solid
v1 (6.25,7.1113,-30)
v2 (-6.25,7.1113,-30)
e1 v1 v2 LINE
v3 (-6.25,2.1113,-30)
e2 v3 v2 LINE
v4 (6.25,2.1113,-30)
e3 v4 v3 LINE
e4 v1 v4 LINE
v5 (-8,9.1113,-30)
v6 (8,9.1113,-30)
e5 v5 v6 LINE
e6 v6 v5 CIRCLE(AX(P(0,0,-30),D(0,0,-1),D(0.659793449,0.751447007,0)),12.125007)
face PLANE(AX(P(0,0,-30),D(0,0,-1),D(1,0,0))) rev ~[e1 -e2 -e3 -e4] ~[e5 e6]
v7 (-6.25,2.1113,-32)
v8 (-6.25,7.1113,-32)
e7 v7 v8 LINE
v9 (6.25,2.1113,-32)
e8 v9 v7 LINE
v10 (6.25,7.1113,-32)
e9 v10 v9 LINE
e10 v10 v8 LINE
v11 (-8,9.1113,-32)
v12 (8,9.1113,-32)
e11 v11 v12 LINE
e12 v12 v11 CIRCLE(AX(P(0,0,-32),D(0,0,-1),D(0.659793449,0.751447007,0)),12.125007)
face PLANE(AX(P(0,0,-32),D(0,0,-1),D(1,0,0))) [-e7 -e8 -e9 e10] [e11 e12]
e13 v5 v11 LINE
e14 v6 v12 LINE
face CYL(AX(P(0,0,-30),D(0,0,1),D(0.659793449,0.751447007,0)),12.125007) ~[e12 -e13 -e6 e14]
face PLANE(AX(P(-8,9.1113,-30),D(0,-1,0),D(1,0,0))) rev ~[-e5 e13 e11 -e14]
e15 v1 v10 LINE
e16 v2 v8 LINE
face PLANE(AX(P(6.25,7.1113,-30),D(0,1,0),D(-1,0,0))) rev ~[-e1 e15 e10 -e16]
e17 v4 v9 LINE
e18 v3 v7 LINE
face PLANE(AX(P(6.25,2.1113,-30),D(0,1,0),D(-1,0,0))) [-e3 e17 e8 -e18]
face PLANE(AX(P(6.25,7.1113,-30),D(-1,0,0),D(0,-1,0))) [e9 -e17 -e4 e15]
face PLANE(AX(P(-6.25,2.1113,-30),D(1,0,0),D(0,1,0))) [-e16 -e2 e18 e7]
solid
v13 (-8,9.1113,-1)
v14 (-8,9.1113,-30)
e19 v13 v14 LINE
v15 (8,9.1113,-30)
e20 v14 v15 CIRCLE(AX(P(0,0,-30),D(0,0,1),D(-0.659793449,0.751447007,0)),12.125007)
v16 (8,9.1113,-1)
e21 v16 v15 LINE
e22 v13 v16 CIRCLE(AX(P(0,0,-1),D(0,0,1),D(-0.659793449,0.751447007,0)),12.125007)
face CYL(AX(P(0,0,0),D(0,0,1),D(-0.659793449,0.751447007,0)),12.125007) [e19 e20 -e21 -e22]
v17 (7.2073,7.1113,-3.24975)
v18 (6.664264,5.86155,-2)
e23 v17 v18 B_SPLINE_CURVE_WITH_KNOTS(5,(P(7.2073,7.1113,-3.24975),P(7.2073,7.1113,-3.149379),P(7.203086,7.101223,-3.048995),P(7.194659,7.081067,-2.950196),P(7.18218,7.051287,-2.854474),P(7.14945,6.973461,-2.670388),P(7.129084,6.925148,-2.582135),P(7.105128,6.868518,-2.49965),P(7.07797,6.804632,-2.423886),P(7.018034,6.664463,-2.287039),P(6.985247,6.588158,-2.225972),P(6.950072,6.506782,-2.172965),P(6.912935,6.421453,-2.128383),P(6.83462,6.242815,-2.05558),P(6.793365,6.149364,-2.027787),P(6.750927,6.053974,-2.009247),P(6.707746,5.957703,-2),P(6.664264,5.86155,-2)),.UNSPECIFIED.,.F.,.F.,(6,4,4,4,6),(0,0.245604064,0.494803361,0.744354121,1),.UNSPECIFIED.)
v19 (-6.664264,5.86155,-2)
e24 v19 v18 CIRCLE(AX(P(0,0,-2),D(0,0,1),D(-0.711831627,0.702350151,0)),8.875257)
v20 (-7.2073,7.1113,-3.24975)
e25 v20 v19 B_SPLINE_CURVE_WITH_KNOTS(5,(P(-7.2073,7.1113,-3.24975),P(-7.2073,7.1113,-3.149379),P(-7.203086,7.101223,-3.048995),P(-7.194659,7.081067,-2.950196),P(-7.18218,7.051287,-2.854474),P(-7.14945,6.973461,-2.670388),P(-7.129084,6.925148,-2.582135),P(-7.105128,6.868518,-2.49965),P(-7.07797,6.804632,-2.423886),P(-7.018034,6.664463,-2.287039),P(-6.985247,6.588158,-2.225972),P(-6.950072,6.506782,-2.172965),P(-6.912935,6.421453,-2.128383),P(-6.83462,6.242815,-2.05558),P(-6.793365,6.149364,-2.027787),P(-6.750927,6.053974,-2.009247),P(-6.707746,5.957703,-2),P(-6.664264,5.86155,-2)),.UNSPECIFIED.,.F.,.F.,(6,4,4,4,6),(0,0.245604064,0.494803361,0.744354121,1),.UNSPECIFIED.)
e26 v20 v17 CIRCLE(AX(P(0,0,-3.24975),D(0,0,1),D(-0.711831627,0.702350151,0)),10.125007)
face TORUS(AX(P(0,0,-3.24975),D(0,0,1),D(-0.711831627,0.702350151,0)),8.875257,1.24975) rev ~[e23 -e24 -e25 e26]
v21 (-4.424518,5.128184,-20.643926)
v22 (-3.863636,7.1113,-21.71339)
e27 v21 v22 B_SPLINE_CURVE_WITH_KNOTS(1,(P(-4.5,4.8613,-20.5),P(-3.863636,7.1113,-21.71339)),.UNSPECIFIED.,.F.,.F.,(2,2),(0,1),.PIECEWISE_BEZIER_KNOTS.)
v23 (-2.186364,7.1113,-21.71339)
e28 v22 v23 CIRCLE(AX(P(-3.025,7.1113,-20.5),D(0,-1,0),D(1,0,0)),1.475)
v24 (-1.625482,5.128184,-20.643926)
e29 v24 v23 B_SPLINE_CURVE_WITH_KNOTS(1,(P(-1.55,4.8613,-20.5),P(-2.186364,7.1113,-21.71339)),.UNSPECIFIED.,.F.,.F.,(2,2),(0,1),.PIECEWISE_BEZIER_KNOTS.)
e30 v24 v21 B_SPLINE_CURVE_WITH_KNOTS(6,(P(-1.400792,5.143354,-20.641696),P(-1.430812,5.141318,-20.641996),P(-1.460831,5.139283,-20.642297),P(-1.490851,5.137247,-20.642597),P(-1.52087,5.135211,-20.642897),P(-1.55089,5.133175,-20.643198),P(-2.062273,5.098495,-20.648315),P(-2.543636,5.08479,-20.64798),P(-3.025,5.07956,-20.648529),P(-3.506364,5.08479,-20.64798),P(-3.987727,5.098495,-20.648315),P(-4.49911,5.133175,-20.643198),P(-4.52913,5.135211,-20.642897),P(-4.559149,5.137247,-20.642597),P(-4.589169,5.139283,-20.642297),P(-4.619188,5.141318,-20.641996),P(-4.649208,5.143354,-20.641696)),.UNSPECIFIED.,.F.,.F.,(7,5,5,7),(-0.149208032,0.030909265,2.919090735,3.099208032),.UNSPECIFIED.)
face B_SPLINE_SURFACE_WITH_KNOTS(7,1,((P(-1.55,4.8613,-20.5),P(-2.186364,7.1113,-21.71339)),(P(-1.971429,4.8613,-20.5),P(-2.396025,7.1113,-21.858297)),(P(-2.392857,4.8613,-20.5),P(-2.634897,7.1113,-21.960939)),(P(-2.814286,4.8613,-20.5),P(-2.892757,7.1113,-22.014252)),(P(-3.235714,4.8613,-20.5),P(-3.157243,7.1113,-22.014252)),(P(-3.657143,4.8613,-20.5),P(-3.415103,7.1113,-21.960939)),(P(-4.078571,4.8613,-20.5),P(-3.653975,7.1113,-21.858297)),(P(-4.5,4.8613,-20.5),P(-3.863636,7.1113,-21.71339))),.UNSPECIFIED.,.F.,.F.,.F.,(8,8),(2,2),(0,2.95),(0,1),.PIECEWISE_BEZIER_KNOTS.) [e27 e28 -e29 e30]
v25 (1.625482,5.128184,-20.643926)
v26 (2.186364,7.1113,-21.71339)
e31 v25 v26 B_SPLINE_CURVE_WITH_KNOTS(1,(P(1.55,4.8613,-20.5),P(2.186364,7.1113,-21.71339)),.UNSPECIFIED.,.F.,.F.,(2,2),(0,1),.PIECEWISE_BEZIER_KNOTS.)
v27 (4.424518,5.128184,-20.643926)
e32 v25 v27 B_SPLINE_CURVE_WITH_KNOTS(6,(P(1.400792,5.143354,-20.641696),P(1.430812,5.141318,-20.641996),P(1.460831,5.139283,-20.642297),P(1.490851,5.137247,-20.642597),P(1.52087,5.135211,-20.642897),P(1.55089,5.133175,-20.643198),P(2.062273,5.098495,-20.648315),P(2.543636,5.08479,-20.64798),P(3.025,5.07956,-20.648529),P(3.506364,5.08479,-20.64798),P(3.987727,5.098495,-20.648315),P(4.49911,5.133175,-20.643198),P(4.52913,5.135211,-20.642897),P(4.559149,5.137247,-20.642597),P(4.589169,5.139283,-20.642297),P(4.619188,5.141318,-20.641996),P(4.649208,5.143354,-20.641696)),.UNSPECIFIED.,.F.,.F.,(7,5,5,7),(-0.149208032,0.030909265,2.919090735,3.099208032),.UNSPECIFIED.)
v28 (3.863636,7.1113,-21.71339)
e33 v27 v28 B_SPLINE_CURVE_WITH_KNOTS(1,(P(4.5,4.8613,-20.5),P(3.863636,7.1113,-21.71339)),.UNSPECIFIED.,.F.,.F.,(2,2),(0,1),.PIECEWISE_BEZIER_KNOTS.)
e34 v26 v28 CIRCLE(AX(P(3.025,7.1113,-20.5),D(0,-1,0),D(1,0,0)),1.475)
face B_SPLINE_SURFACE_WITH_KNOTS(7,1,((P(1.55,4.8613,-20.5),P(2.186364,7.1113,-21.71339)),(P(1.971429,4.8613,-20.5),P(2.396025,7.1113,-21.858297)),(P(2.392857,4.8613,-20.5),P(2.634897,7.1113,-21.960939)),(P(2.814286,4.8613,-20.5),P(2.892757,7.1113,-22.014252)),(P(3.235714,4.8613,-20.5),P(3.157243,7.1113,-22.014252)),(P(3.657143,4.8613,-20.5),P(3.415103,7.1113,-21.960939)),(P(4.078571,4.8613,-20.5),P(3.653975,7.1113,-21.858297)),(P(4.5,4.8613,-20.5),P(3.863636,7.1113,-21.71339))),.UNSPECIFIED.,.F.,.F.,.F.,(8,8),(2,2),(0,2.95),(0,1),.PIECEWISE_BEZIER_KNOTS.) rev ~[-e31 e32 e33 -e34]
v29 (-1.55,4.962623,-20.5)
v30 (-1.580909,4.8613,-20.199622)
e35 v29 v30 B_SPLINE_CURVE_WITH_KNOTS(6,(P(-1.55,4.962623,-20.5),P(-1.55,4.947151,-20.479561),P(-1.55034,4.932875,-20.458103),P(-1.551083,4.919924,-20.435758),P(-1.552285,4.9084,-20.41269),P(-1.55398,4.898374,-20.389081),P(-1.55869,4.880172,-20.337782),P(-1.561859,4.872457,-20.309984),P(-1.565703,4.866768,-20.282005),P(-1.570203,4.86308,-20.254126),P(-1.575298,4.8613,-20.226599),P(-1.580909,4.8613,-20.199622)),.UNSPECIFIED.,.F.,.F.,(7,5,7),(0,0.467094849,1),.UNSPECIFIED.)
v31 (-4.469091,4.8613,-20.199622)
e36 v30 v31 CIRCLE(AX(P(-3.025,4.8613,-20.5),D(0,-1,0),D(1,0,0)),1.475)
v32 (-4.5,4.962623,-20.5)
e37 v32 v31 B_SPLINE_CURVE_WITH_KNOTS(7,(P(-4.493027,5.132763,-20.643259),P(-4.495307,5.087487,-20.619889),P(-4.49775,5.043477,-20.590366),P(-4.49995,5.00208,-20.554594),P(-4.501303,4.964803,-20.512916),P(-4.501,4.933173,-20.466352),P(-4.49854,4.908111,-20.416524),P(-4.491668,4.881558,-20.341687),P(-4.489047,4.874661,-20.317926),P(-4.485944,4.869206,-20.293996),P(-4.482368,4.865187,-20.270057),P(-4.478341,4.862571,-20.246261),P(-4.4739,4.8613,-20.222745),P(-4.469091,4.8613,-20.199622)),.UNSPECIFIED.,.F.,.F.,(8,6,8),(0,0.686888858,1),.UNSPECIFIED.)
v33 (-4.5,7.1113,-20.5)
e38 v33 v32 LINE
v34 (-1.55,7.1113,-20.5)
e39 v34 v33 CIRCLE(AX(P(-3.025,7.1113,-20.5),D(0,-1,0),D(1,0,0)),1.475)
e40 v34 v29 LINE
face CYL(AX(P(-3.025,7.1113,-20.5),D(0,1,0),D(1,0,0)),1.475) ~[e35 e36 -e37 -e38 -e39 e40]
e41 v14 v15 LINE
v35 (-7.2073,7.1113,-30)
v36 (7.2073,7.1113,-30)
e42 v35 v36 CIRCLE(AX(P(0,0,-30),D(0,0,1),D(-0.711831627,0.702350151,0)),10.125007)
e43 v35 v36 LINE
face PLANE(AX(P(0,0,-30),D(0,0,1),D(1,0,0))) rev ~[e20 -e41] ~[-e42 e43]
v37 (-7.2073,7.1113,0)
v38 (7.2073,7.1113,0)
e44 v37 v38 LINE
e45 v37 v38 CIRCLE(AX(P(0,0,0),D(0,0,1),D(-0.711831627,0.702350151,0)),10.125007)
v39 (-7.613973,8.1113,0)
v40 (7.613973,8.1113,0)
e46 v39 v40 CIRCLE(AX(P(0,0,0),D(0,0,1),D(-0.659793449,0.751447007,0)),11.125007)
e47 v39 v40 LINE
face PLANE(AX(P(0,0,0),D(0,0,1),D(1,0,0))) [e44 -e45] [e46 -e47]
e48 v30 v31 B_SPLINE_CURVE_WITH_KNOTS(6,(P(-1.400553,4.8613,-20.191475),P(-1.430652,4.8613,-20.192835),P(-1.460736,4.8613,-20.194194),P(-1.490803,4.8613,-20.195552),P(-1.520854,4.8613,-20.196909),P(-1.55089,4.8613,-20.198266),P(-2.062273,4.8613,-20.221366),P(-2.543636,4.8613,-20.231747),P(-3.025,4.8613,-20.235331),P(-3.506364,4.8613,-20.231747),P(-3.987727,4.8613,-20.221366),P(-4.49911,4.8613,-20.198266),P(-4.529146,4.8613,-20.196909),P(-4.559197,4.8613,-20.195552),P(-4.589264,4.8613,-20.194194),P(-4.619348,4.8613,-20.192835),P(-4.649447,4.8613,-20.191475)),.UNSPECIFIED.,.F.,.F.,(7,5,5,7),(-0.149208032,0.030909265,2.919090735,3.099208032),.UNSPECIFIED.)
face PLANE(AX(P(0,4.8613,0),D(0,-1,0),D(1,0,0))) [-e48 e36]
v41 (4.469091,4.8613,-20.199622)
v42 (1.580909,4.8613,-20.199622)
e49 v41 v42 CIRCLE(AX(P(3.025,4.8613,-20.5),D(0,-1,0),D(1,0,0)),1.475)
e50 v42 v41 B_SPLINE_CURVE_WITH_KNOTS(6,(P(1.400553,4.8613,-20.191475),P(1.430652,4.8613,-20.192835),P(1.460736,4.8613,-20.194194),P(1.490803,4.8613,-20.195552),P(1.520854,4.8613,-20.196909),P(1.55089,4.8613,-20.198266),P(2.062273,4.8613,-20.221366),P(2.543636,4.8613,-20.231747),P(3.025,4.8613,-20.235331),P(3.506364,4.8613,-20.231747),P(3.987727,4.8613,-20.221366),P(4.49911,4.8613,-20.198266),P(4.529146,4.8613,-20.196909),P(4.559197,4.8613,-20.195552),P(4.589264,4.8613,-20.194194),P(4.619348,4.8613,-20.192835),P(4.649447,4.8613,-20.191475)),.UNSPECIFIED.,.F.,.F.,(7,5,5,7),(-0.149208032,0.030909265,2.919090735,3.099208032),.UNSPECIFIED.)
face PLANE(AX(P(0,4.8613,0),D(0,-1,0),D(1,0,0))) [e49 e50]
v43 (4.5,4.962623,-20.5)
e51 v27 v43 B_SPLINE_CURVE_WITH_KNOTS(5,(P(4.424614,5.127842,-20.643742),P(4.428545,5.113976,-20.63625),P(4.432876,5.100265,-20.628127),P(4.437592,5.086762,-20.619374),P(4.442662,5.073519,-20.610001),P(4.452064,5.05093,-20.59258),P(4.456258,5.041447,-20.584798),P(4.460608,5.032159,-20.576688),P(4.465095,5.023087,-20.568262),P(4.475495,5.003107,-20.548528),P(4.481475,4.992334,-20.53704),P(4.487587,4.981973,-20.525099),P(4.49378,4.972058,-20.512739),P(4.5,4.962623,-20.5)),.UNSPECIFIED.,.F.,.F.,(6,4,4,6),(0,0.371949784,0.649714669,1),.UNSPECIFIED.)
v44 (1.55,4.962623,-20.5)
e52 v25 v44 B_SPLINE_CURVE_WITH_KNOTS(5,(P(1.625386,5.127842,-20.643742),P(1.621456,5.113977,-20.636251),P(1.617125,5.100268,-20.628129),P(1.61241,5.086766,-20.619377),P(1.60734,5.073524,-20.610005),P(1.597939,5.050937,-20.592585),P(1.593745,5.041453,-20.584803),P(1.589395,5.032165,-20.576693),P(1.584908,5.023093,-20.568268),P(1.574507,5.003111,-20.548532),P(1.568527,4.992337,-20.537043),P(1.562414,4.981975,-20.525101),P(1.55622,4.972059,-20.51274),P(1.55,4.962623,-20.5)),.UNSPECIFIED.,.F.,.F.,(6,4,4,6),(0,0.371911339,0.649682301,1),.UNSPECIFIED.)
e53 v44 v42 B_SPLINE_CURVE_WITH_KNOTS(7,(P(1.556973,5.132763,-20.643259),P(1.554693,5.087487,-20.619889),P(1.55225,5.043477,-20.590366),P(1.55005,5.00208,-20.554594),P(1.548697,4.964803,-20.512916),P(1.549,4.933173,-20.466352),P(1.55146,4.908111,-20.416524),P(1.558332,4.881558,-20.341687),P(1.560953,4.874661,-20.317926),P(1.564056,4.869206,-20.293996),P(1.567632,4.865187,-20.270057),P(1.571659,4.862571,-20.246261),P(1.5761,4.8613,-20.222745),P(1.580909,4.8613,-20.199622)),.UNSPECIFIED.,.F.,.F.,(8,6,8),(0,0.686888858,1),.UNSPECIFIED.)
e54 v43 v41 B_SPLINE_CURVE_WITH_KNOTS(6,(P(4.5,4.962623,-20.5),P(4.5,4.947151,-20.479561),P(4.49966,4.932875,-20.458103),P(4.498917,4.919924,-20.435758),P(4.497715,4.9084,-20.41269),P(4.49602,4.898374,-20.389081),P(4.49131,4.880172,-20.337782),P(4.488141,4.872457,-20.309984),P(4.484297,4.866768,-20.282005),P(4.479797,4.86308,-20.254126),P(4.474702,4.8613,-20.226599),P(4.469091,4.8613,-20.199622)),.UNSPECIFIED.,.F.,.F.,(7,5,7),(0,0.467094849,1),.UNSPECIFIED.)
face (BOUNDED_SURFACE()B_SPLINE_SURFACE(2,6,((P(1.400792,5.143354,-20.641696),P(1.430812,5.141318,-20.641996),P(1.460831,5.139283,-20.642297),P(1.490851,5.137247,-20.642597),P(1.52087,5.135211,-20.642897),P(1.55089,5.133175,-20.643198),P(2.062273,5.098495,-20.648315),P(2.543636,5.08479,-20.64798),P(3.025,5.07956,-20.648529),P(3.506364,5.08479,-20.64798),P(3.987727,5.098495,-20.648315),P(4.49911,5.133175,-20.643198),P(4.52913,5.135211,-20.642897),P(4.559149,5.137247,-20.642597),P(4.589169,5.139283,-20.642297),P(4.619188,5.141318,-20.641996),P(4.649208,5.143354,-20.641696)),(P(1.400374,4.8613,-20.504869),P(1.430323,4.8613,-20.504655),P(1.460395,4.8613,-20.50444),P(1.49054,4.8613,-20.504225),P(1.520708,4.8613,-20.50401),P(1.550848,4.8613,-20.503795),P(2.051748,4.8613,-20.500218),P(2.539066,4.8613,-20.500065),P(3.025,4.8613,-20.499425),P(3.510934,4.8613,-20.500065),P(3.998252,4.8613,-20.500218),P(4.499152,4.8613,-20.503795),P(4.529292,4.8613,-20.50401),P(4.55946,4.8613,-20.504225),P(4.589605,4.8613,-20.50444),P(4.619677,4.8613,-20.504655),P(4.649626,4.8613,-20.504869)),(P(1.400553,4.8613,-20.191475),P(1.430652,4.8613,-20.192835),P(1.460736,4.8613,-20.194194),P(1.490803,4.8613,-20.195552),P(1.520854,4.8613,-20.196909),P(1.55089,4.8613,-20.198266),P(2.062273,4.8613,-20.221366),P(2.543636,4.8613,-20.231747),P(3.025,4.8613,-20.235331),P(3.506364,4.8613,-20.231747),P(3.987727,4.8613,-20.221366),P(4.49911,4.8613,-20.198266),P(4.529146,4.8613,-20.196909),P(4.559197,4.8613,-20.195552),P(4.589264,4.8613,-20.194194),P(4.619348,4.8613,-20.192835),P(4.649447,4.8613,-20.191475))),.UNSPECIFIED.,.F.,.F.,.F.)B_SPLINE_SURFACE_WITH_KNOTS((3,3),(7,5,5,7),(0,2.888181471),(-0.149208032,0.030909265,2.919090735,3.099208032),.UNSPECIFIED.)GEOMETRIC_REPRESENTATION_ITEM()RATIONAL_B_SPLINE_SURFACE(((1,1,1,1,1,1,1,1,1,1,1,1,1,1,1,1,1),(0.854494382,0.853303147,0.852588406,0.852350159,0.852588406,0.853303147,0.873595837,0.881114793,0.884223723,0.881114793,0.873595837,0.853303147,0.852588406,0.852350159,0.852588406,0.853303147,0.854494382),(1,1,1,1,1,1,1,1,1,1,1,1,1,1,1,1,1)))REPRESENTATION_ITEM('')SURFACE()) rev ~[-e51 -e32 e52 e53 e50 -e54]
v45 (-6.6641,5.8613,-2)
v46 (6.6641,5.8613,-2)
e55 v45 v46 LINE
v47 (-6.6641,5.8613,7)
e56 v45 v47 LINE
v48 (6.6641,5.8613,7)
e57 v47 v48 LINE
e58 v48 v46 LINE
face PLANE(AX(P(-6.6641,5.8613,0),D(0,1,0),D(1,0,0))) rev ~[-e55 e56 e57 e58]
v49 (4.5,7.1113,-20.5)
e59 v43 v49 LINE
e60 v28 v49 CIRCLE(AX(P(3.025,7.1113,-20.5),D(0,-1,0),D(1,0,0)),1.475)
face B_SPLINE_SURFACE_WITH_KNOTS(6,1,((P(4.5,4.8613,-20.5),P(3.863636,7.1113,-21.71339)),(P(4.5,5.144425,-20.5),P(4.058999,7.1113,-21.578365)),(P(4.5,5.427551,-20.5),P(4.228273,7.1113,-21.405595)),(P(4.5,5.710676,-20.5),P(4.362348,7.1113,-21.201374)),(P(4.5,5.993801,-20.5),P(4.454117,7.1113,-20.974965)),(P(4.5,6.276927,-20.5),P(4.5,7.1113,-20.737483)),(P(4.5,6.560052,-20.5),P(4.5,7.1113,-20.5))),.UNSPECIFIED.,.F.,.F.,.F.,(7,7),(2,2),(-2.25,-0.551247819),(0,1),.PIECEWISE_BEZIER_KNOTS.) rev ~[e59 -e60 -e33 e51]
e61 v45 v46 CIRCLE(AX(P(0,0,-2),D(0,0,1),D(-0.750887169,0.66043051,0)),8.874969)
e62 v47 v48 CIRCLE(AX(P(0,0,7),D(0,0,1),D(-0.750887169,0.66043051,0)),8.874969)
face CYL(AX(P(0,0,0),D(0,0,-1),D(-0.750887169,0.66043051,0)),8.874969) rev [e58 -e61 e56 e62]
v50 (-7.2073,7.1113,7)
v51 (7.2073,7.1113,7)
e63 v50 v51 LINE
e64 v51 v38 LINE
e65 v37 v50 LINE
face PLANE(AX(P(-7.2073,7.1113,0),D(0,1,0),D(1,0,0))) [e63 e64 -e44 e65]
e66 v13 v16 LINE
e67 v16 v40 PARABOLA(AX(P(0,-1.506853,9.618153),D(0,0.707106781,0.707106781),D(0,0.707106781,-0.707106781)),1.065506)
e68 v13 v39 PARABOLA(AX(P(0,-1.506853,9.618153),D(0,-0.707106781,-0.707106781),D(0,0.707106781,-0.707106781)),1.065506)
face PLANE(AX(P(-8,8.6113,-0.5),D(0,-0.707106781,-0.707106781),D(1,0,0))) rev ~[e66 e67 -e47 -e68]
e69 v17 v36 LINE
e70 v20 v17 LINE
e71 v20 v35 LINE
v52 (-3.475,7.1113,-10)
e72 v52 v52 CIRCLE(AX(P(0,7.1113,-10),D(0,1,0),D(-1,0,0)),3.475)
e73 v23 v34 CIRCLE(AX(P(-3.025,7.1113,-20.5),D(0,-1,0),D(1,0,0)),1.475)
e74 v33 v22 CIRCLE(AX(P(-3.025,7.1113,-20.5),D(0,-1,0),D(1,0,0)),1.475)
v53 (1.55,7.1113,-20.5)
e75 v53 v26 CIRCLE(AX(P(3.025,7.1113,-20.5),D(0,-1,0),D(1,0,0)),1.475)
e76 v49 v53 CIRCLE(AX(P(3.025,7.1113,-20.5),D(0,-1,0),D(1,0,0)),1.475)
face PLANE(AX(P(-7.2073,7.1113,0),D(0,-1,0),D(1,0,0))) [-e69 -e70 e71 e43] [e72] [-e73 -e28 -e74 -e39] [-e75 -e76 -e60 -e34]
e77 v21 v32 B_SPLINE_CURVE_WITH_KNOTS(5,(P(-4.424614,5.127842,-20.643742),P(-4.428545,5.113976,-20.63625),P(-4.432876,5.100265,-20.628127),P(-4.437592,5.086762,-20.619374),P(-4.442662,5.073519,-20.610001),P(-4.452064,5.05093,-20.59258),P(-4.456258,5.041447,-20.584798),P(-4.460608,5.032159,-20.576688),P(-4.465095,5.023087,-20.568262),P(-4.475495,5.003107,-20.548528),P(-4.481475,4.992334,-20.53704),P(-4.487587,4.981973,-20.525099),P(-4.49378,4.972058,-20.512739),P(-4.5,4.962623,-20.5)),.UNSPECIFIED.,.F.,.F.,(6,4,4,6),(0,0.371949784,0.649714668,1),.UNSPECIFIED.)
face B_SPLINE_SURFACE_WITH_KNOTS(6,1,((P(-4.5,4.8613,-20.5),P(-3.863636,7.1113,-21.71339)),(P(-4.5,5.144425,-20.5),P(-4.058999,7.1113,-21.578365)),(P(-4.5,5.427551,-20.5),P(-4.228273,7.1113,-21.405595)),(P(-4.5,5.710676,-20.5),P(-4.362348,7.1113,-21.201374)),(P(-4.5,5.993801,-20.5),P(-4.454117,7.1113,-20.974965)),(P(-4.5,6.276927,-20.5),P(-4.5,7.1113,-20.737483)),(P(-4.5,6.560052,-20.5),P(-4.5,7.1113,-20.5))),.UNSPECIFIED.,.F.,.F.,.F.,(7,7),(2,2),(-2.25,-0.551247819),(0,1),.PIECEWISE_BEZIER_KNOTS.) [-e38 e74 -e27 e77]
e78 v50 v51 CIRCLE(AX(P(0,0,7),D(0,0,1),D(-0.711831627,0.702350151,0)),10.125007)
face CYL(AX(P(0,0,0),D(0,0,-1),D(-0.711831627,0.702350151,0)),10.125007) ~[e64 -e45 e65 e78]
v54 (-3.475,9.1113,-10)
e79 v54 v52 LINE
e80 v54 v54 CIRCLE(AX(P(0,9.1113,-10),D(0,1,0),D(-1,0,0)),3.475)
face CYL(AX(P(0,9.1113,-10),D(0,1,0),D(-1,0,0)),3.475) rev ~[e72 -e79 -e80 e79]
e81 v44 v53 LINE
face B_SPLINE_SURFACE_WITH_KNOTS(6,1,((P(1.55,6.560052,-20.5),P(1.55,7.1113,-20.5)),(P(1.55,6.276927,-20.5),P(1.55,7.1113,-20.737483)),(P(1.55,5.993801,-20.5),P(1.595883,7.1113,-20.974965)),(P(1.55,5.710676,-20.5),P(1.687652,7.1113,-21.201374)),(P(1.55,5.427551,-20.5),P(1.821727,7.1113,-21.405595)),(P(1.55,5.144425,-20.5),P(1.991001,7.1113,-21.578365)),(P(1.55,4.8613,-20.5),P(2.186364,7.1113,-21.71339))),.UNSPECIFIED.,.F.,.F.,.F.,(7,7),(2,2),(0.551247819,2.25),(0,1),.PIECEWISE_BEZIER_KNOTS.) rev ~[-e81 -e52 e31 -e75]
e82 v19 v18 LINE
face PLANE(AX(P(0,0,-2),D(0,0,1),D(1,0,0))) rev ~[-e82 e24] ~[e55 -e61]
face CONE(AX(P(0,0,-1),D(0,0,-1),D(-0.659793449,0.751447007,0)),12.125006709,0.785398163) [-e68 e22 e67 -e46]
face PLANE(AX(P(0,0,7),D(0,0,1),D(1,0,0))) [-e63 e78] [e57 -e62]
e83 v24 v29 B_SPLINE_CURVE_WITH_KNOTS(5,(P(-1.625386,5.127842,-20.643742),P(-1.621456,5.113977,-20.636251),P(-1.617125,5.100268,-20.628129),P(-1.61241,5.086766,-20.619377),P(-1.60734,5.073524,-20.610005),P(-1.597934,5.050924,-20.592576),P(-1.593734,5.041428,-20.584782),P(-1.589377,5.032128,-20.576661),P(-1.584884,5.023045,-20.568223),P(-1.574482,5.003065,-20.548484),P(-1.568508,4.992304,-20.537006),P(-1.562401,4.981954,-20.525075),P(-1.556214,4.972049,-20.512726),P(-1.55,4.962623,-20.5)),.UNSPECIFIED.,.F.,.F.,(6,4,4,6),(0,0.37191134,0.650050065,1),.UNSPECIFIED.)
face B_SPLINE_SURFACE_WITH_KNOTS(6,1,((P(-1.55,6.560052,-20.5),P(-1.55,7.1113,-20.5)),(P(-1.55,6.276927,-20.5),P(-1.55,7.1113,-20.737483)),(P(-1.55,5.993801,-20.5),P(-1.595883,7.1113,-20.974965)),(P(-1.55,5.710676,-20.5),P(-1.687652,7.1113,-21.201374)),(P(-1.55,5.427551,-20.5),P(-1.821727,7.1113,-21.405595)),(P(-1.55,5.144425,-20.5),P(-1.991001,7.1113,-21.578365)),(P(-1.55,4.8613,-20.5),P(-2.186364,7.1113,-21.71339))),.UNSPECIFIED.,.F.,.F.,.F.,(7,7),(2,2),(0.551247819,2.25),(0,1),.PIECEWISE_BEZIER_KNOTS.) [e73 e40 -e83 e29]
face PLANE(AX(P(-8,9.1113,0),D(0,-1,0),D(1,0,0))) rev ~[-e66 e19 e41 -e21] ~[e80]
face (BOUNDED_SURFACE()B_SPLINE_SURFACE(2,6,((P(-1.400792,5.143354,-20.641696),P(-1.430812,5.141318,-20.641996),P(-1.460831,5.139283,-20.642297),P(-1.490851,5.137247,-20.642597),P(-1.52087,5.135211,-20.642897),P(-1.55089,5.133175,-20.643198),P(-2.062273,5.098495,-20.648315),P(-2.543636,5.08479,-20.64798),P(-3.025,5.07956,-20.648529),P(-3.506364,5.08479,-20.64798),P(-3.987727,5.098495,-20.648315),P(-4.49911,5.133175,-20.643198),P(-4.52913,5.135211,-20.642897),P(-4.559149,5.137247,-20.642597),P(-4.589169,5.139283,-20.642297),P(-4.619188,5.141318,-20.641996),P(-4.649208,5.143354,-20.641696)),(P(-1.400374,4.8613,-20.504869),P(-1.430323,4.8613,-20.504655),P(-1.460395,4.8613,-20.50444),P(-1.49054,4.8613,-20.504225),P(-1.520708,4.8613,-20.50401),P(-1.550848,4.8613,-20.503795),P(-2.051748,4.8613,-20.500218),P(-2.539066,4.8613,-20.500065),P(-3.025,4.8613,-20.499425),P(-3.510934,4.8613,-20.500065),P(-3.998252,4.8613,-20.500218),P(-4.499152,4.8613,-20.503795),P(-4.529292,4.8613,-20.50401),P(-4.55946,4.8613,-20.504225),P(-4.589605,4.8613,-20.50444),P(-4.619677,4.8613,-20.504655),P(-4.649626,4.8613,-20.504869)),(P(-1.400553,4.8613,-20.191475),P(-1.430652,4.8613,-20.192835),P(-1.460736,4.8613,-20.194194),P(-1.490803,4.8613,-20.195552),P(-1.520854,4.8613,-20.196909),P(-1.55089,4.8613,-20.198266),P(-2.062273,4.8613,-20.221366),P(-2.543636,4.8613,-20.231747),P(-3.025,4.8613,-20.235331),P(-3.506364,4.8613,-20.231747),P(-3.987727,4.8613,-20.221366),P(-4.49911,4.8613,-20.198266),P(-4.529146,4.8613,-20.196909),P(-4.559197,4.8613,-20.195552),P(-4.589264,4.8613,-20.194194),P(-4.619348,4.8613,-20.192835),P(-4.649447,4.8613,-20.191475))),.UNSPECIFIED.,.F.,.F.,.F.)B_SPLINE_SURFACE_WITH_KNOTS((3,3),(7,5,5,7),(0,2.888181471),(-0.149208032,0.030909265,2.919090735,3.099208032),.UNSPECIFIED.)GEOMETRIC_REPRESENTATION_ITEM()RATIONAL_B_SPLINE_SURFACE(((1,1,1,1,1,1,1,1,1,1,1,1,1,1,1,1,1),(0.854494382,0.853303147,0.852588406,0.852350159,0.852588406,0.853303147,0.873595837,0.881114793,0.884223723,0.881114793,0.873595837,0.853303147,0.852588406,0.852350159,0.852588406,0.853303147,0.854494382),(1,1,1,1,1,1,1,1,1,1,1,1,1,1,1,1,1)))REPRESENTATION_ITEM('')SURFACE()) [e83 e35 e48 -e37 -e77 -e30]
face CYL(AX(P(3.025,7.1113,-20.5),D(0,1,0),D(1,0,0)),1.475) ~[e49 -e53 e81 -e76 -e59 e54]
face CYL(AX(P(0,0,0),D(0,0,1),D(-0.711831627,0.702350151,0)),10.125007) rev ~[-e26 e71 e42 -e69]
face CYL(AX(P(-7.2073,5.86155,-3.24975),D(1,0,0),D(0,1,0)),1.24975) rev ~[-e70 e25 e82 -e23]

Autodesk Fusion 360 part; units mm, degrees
sketch "Sketch1" plane through (0, 0, 0) normal (0, 0, 1) x (1, 0, 0)
  line L0 (0, -12.125) -> (0, 9.1113) construction
  line L1 (-8, 9.1113) -> (8, 9.1113)
  arc A0 (-8, 9.1113) -> (8, 9.1113) centre (0, 0) ccw
  arc A1 (-7.2073, 7.1113) -> (7.2073, 7.1113) centre (0, 0) ccw
  line L2 (-7.2073, 7.1113) -> (7.2073, 7.1113)
  arc A2 (-6.6641, 5.8613) -> (6.6641, 5.8613) centre (0, 0) ccw
  line L3 (-6.6641, 5.8613) -> (6.6641, 5.8613)
  dimension "d1" = 24.25
  dimension "d3" = 16
  dimension "d4" = -2
  dimension "d5" = -3.25
extrude "Extrude5" add sketch "Sketch1" along normal blind 7 contours A1 L2 makes body 1
extrude "Extrude6" add sketch "Sketch1" against normal blind 2 contours A1 L2 bodies 1
extrude "Extrude7" add sketch "Sketch1" against normal blind 30 contours L1 A0 bodies 1
fillet "Fillet1" radius 1.25 2 edges at (0, 7.1113, -2) (0, -10.125, -2) on bodies 1
chamfer "Chamfer1" distance 1 angle 45 2 edges at (0, -12.125, 0) (0, 9.1113, 0) on bodies 1
sketch "Sketch3" plane through (0, 9.1113, 0) normal (0, 1, 0) x (-1, 0, 0)
  line L0 (-8, -1) -> (-8, -30)
  line L1 (-8, -30) -> (8, -30)
  line L2 (0, 0) -> (0, -30) construction
  circle A0 centre (0, -10) radius 3.475
  line L3 (8, 0) -> (-8, 0)
  line L4 (8, -1) -> (-8, -1)
  line L5 (8, -30) -> (8, -1)
  dimension "d24" = 6.95
  dimension "d25" = 10
extrude "Extrude9" cut sketch "Sketch3" against normal blind 4 contours A0 bodies 1
sketch "Sketch4" plane through (0, 7.1113, 0) normal (0, -1, 0) x (1, 0, 0)
  line L0 (-7.2073, -3.25) -> (-7.2073, -30)
  line L1 (-7.2073, -30) -> (7.2073, -30)
  line L2 (-3.025, -20.5) -> (3.025, -20.5) construction
  circle A0 centre (-3.025, -20.5) radius 1.475
  circle A1 centre (3.025, -20.5) radius 1.475
  line L3 (0, -30) -> (0, -20.5) construction
  line L4 (7.2073, -3.25) -> (-7.2073, -3.25)
  line L5 (7.2073, -30) -> (7.2073, -3.25)
  circle A2 centre (0, -10) radius 3.475
  line L6 (-1.55, -20.5) -> (-4.5, -20.5)
  line L7 (1.55, -20.5) -> (4.5, -20.5)
  dimension "d28" = 6.05
  dimension "d29" = 2.95
  dimension "d30" = 2.95
  dimension "d31" = 9.5
extrude "Extrude10" add sketch "Sketch4" along normal blind 2.25 contours A0 L6 | A1 L7 picked at (-3.2653, -20.0009) picked at (2.5701, -20.0097) bodies 1
loft "Loft1" add profiles "Sketch4" section 1 face at (-2.5333, 6.3613, -20.5) section 2 contours A0 L6 picked at (-3.2708, -20.9258) on bodies 1 bodies 1
loft "Loft2" add profiles "Sketch4" section 1 face at (2.5333, 5.6113, -20.5) section 2 contours A1 L7 picked at (3.1344, -20.9793) on bodies 1 bodies 1
fillet "Fillet2" radius 0.5 2 edges at (3.025, 4.8613, -20.5) (-3.025, 4.8613, -20.5) on bodies 1
sketch "Sketch5" plane through (0, 0, -30) normal (0, 0, -1) x (1, 0, 0)
  arc A0 (7.2073, -7.1113) -> (-7.2073, -7.1113) centre (0, 0) ccw
  line L0 (7.2073, -7.1113) -> (-7.2073, -7.1113)
  arc A1 (8, -9.1113) -> (-8, -9.1113) centre (0, 0) ccw
  line L1 (-8, -9.1113) -> (8, -9.1113)
  line L2 (-6.25, -7.1113) -> (6.25, -7.1113)
  line L3 (6.25, -7.1113) -> (6.25, -2.1113)
  line L4 (6.25, -2.1113) -> (-6.25, -2.1113)
  line L5 (-6.25, -2.1113) -> (-6.25, -7.1113)
  dimension "d36" = 12.5
  dimension "d37" = 5
extrude "Extrude11" [suppressed]
extrude "Extrude12" add sketch "Sketch5" along normal blind 2 separate body contours A0 L0 L3 L4 L5 | A1 L1 makes body 2
move_face "OffsetFaces1" [suppressed]
chamfer "Chamfer2" [suppressed]
equation "d28 = 3.1 mm + d29"
equation "d30 = d29"
